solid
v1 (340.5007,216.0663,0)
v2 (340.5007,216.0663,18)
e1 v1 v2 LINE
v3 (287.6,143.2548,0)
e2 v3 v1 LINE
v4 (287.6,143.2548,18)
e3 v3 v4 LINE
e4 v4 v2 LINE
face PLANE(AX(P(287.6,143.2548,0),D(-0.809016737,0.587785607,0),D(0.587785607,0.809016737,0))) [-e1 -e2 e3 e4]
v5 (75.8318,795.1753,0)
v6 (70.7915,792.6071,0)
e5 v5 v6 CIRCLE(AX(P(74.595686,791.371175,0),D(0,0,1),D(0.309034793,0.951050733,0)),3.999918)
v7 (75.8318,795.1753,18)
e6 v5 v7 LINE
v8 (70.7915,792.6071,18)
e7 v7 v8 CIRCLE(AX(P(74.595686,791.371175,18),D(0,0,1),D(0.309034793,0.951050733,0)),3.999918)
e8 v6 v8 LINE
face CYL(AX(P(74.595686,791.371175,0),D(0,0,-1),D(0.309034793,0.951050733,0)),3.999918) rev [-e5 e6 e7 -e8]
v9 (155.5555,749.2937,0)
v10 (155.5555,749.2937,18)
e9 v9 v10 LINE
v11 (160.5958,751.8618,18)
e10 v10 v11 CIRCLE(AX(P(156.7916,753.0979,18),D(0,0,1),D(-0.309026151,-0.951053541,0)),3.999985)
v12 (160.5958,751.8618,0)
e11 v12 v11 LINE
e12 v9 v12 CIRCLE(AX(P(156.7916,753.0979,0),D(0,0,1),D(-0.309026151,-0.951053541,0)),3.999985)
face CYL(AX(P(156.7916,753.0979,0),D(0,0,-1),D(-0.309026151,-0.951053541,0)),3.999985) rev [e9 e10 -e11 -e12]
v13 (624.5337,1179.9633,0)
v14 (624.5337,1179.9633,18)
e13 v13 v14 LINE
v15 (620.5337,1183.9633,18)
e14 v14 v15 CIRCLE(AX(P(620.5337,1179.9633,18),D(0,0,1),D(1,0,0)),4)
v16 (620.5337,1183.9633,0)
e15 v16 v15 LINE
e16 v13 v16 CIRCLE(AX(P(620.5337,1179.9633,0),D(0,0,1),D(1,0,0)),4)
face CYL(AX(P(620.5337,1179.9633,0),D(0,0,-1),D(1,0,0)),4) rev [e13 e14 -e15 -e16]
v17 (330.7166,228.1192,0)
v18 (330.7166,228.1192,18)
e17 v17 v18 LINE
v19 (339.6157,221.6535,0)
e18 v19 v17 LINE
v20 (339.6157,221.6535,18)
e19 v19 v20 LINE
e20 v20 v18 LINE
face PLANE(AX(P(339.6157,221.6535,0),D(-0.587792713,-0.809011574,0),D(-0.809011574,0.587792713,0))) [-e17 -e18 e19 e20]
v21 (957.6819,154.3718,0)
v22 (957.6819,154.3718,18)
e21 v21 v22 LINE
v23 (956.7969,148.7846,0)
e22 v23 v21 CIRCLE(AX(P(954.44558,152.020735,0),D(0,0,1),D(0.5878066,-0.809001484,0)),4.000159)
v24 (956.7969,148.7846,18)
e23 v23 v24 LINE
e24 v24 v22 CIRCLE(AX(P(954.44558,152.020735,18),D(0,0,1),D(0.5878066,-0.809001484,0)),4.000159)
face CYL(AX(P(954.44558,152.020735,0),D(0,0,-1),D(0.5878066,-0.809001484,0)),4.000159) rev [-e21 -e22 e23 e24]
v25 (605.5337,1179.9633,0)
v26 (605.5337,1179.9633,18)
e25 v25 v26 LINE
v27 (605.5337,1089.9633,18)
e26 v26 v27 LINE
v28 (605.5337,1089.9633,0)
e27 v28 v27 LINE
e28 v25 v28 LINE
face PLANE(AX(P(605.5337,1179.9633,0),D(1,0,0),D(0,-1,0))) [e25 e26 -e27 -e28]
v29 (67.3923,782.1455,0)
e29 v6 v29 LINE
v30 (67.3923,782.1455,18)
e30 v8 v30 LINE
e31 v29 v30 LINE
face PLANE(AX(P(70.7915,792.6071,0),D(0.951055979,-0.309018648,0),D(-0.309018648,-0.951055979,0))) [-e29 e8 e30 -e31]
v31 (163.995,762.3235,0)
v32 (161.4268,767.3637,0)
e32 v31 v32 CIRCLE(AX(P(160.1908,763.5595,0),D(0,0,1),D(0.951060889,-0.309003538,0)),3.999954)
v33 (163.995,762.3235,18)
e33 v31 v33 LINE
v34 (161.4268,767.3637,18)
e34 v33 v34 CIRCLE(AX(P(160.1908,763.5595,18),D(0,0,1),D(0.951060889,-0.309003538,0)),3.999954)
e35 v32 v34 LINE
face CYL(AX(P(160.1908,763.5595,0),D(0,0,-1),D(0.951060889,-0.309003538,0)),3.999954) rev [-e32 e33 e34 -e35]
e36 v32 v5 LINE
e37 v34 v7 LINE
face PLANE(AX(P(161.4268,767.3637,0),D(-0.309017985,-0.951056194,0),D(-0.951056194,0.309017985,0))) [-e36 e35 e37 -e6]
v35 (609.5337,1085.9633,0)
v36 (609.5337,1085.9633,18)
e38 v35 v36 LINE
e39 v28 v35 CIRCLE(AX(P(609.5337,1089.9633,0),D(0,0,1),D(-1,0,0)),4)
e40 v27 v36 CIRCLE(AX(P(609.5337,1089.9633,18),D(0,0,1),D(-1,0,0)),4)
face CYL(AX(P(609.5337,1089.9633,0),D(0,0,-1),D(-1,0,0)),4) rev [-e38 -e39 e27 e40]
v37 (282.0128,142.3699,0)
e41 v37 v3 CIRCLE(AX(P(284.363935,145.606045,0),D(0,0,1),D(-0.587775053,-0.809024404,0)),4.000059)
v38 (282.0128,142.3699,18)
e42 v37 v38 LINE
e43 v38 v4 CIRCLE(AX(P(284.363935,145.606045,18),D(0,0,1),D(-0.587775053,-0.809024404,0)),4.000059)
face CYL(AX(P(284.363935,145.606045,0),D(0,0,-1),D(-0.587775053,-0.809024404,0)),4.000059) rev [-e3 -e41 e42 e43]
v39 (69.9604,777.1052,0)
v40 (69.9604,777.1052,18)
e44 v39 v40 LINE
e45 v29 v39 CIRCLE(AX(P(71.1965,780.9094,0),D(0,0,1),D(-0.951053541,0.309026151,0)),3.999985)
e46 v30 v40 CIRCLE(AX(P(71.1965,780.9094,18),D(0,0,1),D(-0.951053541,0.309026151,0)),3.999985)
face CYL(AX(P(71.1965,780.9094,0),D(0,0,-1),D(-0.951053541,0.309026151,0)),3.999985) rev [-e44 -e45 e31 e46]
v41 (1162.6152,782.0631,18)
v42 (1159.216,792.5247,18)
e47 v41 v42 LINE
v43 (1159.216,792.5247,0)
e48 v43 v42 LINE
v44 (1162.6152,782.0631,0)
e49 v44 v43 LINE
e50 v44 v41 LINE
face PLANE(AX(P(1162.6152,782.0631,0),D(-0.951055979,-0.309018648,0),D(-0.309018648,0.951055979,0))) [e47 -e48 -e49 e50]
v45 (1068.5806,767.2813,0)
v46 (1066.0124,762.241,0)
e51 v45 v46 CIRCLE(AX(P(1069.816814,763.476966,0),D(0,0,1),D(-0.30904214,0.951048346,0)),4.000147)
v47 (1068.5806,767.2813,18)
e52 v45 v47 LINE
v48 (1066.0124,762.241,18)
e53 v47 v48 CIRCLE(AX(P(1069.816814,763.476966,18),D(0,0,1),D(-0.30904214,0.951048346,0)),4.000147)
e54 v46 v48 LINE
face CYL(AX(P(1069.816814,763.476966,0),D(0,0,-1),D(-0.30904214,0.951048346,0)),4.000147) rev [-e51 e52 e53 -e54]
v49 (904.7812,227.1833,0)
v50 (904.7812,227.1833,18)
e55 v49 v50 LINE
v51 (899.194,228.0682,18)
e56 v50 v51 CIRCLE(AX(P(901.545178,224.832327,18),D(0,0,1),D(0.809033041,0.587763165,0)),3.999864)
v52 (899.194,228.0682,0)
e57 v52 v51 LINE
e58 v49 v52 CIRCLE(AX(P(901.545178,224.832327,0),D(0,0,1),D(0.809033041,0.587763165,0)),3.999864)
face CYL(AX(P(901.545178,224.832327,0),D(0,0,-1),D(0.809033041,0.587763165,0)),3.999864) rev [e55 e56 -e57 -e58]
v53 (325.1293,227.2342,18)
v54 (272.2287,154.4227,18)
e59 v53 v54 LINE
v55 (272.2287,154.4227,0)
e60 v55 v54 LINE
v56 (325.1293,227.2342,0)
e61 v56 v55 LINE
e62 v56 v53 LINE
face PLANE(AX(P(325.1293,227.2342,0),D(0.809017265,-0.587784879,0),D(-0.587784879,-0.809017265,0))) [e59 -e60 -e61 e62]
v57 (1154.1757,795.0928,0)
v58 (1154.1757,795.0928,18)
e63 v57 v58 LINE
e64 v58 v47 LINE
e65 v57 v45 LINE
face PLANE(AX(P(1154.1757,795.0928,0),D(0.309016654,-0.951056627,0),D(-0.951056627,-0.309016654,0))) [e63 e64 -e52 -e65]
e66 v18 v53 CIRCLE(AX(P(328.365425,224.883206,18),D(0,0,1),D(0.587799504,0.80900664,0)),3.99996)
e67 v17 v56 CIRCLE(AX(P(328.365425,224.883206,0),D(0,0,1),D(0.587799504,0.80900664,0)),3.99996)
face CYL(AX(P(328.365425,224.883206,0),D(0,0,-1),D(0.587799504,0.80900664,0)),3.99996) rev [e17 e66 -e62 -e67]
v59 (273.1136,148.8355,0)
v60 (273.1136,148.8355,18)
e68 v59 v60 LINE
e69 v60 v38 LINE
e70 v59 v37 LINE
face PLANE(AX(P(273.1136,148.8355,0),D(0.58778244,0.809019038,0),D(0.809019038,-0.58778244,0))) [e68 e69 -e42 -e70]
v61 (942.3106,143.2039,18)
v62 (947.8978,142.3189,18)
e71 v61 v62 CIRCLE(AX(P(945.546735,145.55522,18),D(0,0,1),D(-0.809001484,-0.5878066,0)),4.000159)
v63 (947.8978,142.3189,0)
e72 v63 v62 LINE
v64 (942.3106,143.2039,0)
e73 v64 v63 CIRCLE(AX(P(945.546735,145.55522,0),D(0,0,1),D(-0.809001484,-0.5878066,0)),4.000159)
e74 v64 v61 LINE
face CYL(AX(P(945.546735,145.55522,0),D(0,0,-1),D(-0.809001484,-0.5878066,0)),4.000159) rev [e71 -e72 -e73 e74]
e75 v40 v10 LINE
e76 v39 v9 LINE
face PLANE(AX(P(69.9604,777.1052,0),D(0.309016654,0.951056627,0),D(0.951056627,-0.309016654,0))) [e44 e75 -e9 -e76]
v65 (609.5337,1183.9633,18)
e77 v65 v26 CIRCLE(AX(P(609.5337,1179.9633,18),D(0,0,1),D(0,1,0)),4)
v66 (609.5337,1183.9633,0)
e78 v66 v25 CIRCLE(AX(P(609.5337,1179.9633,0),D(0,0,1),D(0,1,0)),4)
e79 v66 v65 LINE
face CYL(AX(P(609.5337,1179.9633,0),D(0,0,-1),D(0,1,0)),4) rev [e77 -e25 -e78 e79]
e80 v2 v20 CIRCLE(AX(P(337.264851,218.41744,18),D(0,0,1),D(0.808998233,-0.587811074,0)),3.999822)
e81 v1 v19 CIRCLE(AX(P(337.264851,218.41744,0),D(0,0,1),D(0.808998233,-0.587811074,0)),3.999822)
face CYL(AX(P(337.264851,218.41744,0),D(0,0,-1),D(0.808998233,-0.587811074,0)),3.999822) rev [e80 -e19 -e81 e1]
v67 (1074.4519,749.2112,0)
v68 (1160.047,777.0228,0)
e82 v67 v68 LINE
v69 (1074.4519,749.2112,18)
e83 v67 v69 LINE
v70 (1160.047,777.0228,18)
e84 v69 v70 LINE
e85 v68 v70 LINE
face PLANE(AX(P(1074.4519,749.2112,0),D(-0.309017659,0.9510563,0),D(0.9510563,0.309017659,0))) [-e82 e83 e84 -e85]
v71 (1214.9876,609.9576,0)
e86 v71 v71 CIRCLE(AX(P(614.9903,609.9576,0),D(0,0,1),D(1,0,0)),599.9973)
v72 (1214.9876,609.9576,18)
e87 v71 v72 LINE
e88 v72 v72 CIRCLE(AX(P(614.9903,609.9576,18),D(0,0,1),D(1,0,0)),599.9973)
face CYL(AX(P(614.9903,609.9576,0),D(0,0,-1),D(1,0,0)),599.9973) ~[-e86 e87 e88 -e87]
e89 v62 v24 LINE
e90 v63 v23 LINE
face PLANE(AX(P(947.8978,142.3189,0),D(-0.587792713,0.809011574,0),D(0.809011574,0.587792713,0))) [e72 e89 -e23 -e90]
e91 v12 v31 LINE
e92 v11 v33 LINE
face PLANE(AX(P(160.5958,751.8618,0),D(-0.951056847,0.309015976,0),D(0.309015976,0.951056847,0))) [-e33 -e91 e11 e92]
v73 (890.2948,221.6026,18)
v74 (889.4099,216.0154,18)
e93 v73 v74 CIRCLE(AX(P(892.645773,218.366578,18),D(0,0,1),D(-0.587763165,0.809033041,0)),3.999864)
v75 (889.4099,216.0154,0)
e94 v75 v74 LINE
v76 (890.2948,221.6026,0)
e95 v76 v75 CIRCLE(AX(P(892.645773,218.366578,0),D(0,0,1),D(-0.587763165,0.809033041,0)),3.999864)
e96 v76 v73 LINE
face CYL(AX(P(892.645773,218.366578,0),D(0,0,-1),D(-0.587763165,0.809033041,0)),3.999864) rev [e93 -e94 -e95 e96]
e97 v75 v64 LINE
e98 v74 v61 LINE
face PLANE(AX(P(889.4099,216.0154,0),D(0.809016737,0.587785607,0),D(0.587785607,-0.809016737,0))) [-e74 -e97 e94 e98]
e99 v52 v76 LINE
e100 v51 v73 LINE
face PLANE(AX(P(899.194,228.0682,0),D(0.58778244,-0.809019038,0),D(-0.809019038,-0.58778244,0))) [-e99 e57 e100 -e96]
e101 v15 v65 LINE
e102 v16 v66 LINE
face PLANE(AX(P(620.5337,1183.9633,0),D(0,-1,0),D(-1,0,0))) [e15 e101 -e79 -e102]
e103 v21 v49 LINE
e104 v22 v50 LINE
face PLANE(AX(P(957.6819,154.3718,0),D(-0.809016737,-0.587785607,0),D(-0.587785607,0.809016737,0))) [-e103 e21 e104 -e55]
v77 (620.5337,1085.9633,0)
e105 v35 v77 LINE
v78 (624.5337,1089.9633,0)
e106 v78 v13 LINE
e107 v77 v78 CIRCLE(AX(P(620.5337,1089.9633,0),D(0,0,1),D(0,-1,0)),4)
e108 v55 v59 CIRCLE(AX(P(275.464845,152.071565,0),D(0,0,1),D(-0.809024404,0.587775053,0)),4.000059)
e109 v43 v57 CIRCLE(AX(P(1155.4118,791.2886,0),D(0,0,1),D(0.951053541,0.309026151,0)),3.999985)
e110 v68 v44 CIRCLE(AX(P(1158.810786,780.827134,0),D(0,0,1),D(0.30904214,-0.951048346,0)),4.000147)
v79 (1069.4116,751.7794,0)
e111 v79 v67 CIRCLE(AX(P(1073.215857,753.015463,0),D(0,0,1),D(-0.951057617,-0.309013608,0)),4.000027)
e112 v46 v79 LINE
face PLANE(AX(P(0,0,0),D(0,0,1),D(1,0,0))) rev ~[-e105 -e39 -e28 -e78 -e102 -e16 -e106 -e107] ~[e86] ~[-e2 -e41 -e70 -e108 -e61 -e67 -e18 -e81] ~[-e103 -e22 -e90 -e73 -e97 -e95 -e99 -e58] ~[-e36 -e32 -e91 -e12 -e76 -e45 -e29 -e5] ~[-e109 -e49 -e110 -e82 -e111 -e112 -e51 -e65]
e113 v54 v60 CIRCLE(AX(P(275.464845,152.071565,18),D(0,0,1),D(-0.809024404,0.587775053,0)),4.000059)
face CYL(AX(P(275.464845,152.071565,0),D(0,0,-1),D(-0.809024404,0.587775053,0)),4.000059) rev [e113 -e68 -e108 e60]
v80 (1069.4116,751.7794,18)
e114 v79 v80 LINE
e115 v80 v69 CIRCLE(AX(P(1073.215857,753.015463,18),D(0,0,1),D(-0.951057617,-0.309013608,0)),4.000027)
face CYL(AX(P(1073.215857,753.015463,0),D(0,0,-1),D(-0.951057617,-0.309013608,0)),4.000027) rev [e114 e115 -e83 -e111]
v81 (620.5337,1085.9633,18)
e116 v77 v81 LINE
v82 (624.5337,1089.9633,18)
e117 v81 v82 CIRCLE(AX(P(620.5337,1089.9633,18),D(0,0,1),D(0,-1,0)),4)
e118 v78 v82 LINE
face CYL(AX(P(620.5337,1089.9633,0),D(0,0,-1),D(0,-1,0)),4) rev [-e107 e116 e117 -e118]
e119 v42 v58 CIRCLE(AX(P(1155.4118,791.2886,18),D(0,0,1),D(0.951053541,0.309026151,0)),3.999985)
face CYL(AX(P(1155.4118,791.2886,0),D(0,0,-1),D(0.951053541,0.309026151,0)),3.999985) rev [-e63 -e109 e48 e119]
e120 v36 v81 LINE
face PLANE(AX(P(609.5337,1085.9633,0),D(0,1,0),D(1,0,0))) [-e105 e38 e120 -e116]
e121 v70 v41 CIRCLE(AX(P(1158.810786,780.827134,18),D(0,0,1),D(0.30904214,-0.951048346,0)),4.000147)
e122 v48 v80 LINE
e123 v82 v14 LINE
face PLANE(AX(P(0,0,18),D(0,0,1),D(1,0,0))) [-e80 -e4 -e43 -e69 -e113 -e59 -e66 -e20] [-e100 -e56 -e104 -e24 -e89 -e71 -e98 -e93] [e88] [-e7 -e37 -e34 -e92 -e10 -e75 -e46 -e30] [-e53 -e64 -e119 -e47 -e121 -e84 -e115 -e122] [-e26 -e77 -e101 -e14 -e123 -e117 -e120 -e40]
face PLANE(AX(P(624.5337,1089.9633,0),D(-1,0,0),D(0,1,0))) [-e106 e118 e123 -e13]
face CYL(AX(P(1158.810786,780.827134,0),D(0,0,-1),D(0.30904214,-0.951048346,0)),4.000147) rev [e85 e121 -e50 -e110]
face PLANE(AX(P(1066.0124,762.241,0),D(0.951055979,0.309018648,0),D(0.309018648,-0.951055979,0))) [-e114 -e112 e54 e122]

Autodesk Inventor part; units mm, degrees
ref_plane "YZ Plane" through (0, 0, 0) normal (1, 0, 0) x (0, 1, 0)
ref_plane "XZ Plane" through (0, 0, 0) normal (0, 1, 0) x (-1, 0, 0)
ref_plane "XY Plane" through (0, 0, 0) normal (0, 0, 1) x (1, 0, 0)
sketch "CONTOURS" plane through (0, 0, 0) normal (0, 0, 1) x (1, 0, 0)
  circle A0 centre (614.9903, 609.9576) radius 599.9973
  dimension "d3" = 1199.9946
sketch "HOLES" plane through (0, 0, 0) normal (0, 0, 1) x (1, 0, 0)
  line L0 (1162.6152, 782.0631) -> (1159.216, 792.5247)
  arc A0 (1159.216, 792.5247) -> (1154.1757, 795.0928) centre (1155.4118, 791.2886) ccw
  line L1 (1154.1757, 795.0928) -> (1068.5806, 767.2813)
  arc A1 (1068.5806, 767.2813) -> (1066.0124, 762.241) centre (1069.8167, 763.4771) ccw
  line L2 (1066.0124, 762.241) -> (1069.4116, 751.7794)
  arc A2 (1069.4116, 751.7794) -> (1074.4519, 749.2112) centre (1073.2159, 753.0155) ccw
  line L3 (1074.4519, 749.2112) -> (1160.047, 777.0228)
  arc A3 (1160.047, 777.0228) -> (1162.6152, 782.0631) centre (1158.8109, 780.827) ccw
  line L4 (947.8978, 142.3189) -> (956.7969, 148.7846)
  arc A4 (956.7969, 148.7846) -> (957.6819, 154.3718) centre (954.4458, 152.0206) ccw
  line L5 (957.6819, 154.3718) -> (904.7812, 227.1833)
  arc A5 (904.7812, 227.1833) -> (899.194, 228.0682) centre (901.5451, 224.8322) ccw
  line L6 (899.194, 228.0682) -> (890.2948, 221.6026)
  arc A6 (890.2948, 221.6026) -> (889.4099, 216.0154) centre (892.6459, 218.3665) ccw
  line L7 (889.4099, 216.0154) -> (942.3106, 143.2039)
  arc A7 (942.3106, 143.2039) -> (947.8978, 142.3189) centre (945.5466, 145.555) ccw
  line L8 (620.5337, 1183.9633) -> (609.5337, 1183.9633)
  arc A8 (609.5337, 1183.9633) -> (605.5337, 1179.9633) centre (609.5337, 1179.9633) ccw
  line L9 (605.5337, 1179.9633) -> (605.5337, 1089.9633)
  arc A9 (605.5337, 1089.9633) -> (609.5337, 1085.9633) centre (609.5337, 1089.9633) ccw
  line L10 (609.5337, 1085.9633) -> (620.5337, 1085.9633)
  arc A10 (620.5337, 1085.9633) -> (624.5337, 1089.9633) centre (620.5337, 1089.9633) ccw
  line L11 (624.5337, 1089.9633) -> (624.5337, 1179.9633)
  arc A11 (624.5337, 1179.9633) -> (620.5337, 1183.9633) centre (620.5337, 1179.9633) ccw
  line L12 (273.1136, 148.8355) -> (282.0128, 142.3699)
  arc A12 (282.0128, 142.3699) -> (287.6, 143.2548) centre (284.3639, 145.6059) ccw
  line L13 (287.6, 143.2548) -> (340.5007, 216.0663)
  arc A13 (340.5007, 216.0663) -> (339.6157, 221.6535) centre (337.2646, 218.4175) ccw
  line L14 (339.6157, 221.6535) -> (330.7166, 228.1192)
  arc A14 (330.7166, 228.1192) -> (325.1293, 227.2342) centre (328.3654, 224.8831) ccw
  line L15 (325.1293, 227.2342) -> (272.2287, 154.4227)
  arc A15 (272.2287, 154.4227) -> (273.1136, 148.8355) centre (275.4647, 152.0716) ccw
  line L16 (70.7915, 792.6071) -> (67.3923, 782.1455)
  arc A16 (67.3923, 782.1455) -> (69.9604, 777.1052) centre (71.1965, 780.9094) ccw
  line L17 (69.9604, 777.1052) -> (155.5555, 749.2937)
  arc A17 (155.5555, 749.2937) -> (160.5958, 751.8618) centre (156.7916, 753.0979) ccw
  line L18 (160.5958, 751.8618) -> (163.995, 762.3235)
  arc A18 (163.995, 762.3235) -> (161.4268, 767.3637) centre (160.1908, 763.5595) ccw
  line L19 (161.4268, 767.3637) -> (75.8318, 795.1753)
  arc A19 (75.8318, 795.1753) -> (70.7915, 792.6071) centre (74.5957, 791.371) ccw
  dimension "d1" = 19
  dimension "d19" = 90
sketch "LETTERS" plane through (0, 0, 0) normal (0, 0, 1) x (1, 0, 0)
  line L0 (622.9768, 614.1235) -> (622.8555, 614.5546)
  line L1 (622.8555, 614.5546) -> (622.7333, 614.956)
  line L2 (622.7333, 614.956) -> (622.6101, 615.3276)
  line L3 (622.6101, 615.3276) -> (622.4861, 615.6694)
  line L4 (622.4861, 615.6694) -> (622.4237, 615.8291)
  line L5 (622.4237, 615.8291) -> (622.3611, 615.9814)
  line L6 (622.3611, 615.9814) -> (622.2982, 616.1262)
  line L7 (622.2982, 616.1262) -> (622.2351, 616.2636)
  line L8 (622.2351, 616.2636) -> (622.1718, 616.3935)
  line L9 (622.1718, 616.3935) -> (622.1083, 616.516)
  line L10 (622.1083, 616.516) -> (622.0445, 616.631)
  line L11 (622.0445, 616.631) -> (621.9805, 616.7386)
  line L12 (621.9805, 616.7386) -> (621.9154, 616.8417)
  line L13 (621.9154, 616.8417) -> (621.8484, 616.943)
  line L14 (621.8484, 616.943) -> (621.7795, 617.0428)
  line L15 (621.7795, 617.0428) -> (621.7087, 617.1408)
  line L16 (621.7087, 617.1408) -> (621.6361, 617.2373)
  line L17 (621.6361, 617.2373) -> (621.5615, 617.3321)
  line L18 (621.5615, 617.3321) -> (621.485, 617.4252)
  line L19 (621.485, 617.4252) -> (621.4066, 617.5167)
  line L20 (621.4066, 617.5167) -> (621.3264, 617.6065)
  line L21 (621.3264, 617.6065) -> (621.2442, 617.6947)
  line L22 (621.2442, 617.6947) -> (621.1602, 617.7812)
  line L23 (621.1602, 617.7812) -> (621.0742, 617.8661)
  line L24 (621.0742, 617.8661) -> (620.9864, 617.9494)
  line L25 (620.9864, 617.9494) -> (620.8966, 618.031)
  line L26 (620.8966, 618.031) -> (620.805, 618.1109)
  line L27 (620.805, 618.1109) -> (620.7115, 618.1892)
  line L28 (620.7115, 618.1892) -> (620.5209, 618.3409)
  line L29 (620.5209, 618.3409) -> (620.3269, 618.4859)
  line L30 (620.3269, 618.4859) -> (620.1297, 618.6242)
  line L31 (620.1297, 618.6242) -> (619.9292, 618.756)
  line L32 (619.9292, 618.756) -> (619.7254, 618.8811)
  line L33 (619.7254, 618.8811) -> (619.5183, 618.9995)
  line L34 (619.5183, 618.9995) -> (619.3079, 619.1114)
  line L35 (619.3079, 619.1114) -> (619.0942, 619.2166)
  line L36 (619.0942, 619.2166) -> (618.9858, 619.2666)
  line L37 (618.9858, 619.2666) -> (618.8761, 619.3148)
  line L38 (618.8761, 619.3148) -> (618.765, 619.3612)
  line L39 (618.765, 619.3612) -> (618.6526, 619.4058)
  line L40 (618.6526, 619.4058) -> (618.5388, 619.4485)
  line L41 (618.5388, 619.4485) -> (618.4237, 619.4895)
  line L42 (618.4237, 619.4895) -> (618.3072, 619.5286)
  line L43 (618.3072, 619.5286) -> (618.1894, 619.5658)
  line L44 (618.1894, 619.5658) -> (617.9497, 619.6349)
  line L45 (617.9497, 619.6349) -> (617.7046, 619.6967)
  line L46 (617.7046, 619.6967) -> (617.454, 619.7512)
  line L47 (617.454, 619.7512) -> (617.1981, 619.7984)
  line L48 (617.1981, 619.7984) -> (616.9346, 619.8392)
  line L49 (616.9346, 619.8392) -> (616.6613, 619.8746)
  line L50 (616.6613, 619.8746) -> (616.3784, 619.9045)
  line L51 (616.3784, 619.9045) -> (616.0858, 619.929)
  line L52 (616.0858, 619.929) -> (615.7835, 619.9481)
  line L53 (615.7835, 619.9481) -> (615.4715, 619.9617)
  line L54 (615.4715, 619.9617) -> (614.8184, 619.9726)
  line L55 (614.8184, 619.9726) -> (614.1719, 619.964)
  line L56 (614.1719, 619.964) -> (613.5774, 619.9385)
  line L57 (613.5774, 619.9385) -> (613.2996, 619.9194)
  line L58 (613.2996, 619.9194) -> (613.0349, 619.8959)
  line L59 (613.0349, 619.8959) -> (612.7831, 619.8683)
  line L60 (612.7831, 619.8683) -> (612.5443, 619.8364)
  line L61 (612.5443, 619.8364) -> (612.3121, 619.7985)
  line L62 (612.3121, 619.7985) -> (612.0798, 619.7532)
  line L63 (612.0798, 619.7532) -> (611.8476, 619.7002)
  line L64 (611.8476, 619.7002) -> (611.6153, 619.6397)
  line L65 (611.6153, 619.6397) -> (611.383, 619.5717)
  line L66 (611.383, 619.5717) -> (611.1508, 619.4961)
  line L67 (611.1508, 619.4961) -> (610.9185, 619.4129)
  line L68 (610.9185, 619.4129) -> (610.6862, 619.3222)
  line L69 (610.6862, 619.3222) -> (610.4529, 619.2229)
  line L70 (610.4529, 619.2229) -> (610.2174, 619.1139)
  line L71 (610.2174, 619.1139) -> (609.9798, 618.9952)
  line L72 (609.9798, 618.9952) -> (609.74, 618.8669)
  line L73 (609.74, 618.8669) -> (609.4981, 618.7289)
  line L74 (609.4981, 618.7289) -> (609.2541, 618.5813)
  line L75 (609.2541, 618.5813) -> (609.0078, 618.424)
  line L76 (609.0078, 618.424) -> (608.7595, 618.257)
  line L77 (608.7595, 618.257) -> (608.6356, 618.1697)
  line L78 (608.6356, 618.1697) -> (608.5134, 618.0797)
  line L79 (608.5134, 618.0797) -> (608.3928, 617.987)
  line L80 (608.3928, 617.987) -> (608.2739, 617.8916)
  line L81 (608.2739, 617.8916) -> (608.1567, 617.7935)
  line L82 (608.1567, 617.7935) -> (608.0411, 617.6927)
  line L83 (608.0411, 617.6927) -> (607.9272, 617.5891)
  line L84 (607.9272, 617.5891) -> (607.8149, 617.4828)
  line L85 (607.8149, 617.4828) -> (607.7043, 617.3739)
  line L86 (607.7043, 617.3739) -> (607.5953, 617.2622)
  line L87 (607.5953, 617.2622) -> (607.488, 617.1478)
  line L88 (607.488, 617.1478) -> (607.3824, 617.0307)
  line L89 (607.3824, 617.0307) -> (607.2784, 616.9108)
  line L90 (607.2784, 616.9108) -> (607.176, 616.7883)
  line L91 (607.176, 616.7883) -> (607.0754, 616.663)
  line L92 (607.0754, 616.663) -> (606.9764, 616.5351)
  line L93 (606.9764, 616.5351) -> (606.8795, 616.4051)
  line L94 (606.8795, 616.4051) -> (606.7852, 616.2738)
  line L95 (618.3393, 599.944) -> (618.5538, 599.9977)
  line L96 (618.5538, 599.9977) -> (618.7672, 600.0568)
  line L97 (618.7672, 600.0568) -> (618.9794, 600.1214)
  line L98 (618.9794, 600.1214) -> (619.1905, 600.1913)
  line L99 (619.1905, 600.1913) -> (619.4004, 600.2667)
  line L100 (619.4004, 600.2667) -> (619.6092, 600.3476)
  line L101 (619.6092, 600.3476) -> (619.8168, 600.4339)
  line L102 (619.8168, 600.4339) -> (620.0233, 600.5256)
  line L103 (620.0233, 600.5256) -> (620.2287, 600.6223)
  line L104 (620.2287, 600.6223) -> (620.4332, 600.7235)
  line L105 (620.4332, 600.7235) -> (620.6368, 600.8291)
  line L106 (620.6368, 600.8291) -> (620.8394, 600.9391)
  line L107 (620.8394, 600.9391) -> (621.0411, 601.0536)
  line L108 (621.0411, 601.0536) -> (621.2419, 601.1726)
  line L109 (621.2419, 601.1726) -> (621.4418, 601.296)
  line L110 (621.4418, 601.296) -> (621.6408, 601.4239)
  line L111 (621.6408, 601.4239) -> (622.3722, 601.9163)
  line L112 (622.3722, 601.9163) -> (622.691, 602.1415)
  line L113 (622.691, 602.1415) -> (622.9785, 602.3528)
  line L114 (622.9785, 602.3528) -> (623.4053, 602.6781)
  line L115 (623.4053, 602.6781) -> (623.5311, 602.7785)
  line L116 (623.5311, 602.7785) -> (623.572, 602.8131)
  line L117 (605.8556, 614.5967) -> (605.795, 614.4485)
  line L118 (623.587, 602.8265) -> (623.5931, 602.8322)
  line L119 (623.5931, 602.8322) -> (623.5983, 602.8373)
  line L120 (623.5983, 602.8373) -> (623.5992, 609.9994)
  line L121 (623.5992, 609.9994) -> (615.0012, 610.0005)
  line L122 (605.7369, 614.299) -> (605.5299, 613.7237)
  line L123 (605.5299, 613.7237) -> (605.4413, 613.4552)
  line L124 (605.4413, 613.4552) -> (605.3626, 613.1994)
  line L125 (605.3626, 613.1994) -> (605.294, 612.9564)
  line L126 (605.294, 612.9564) -> (605.2353, 612.7261)
  line L127 (605.2353, 612.7261) -> (605.1866, 612.5085)
  line L128 (605.1866, 612.5085) -> (605.1659, 612.4045)
  line L129 (605.1659, 612.4045) -> (605.1478, 612.3036)
  line L130 (605.1478, 612.3036) -> (605.0844, 611.8916)
  line L131 (605.0844, 611.8916) -> (605.0293, 611.4495)
  line L132 (605.0293, 611.4495) -> (604.9825, 610.9774)
  line L133 (604.9825, 610.9774) -> (604.944, 610.4751)
  line L134 (604.944, 610.4751) -> (604.9301, 610.2143)
  line L135 (604.9301, 610.2143) -> (604.9225, 609.9493)
  line L136 (604.9225, 609.9493) -> (604.9214, 609.68)
  line L137 (604.9214, 609.68) -> (604.9266, 609.4064)
  line L138 (604.9266, 609.4064) -> (604.9383, 609.1286)
  line L139 (604.9383, 609.1286) -> (604.9563, 608.8465)
  line L140 (604.9563, 608.8465) -> (604.9808, 608.5602)
  line L141 (604.9808, 608.5602) -> (605.0116, 608.2696)
  line L142 (605.0116, 608.2696) -> (605.049, 607.9781)
  line L143 (605.049, 607.9781) -> (605.0929, 607.6889)
  line L144 (605.0929, 607.6889) -> (605.1434, 607.4021)
  line L145 (605.1434, 607.4021) -> (605.2006, 607.1176)
  line L146 (605.2006, 607.1176) -> (605.2643, 606.8354)
  line L147 (605.2643, 606.8354) -> (605.3347, 606.5556)
  line L148 (605.3347, 606.5556) -> (605.4116, 606.2781)
  line L149 (605.4116, 606.2781) -> (605.4951, 606.003)
  line L150 (605.4951, 606.003) -> (605.5846, 605.7331)
  line L151 (605.5846, 605.7331) -> (605.6792, 605.4716)
  line L152 (605.6792, 605.4716) -> (605.7791, 605.2183)
  line L153 (605.7791, 605.2183) -> (605.8842, 604.9733)
  line L154 (605.8842, 604.9733) -> (605.9945, 604.7366)
  line L155 (605.9945, 604.7366) -> (606.11, 604.5082)
  line L156 (606.11, 604.5082) -> (606.2307, 604.2881)
  line L157 (606.2307, 604.2881) -> (606.293, 604.1811)
  line L158 (606.293, 604.1811) -> (606.3566, 604.0762)
  line L159 (606.3566, 604.0762) -> (606.4874, 603.8703)
  line L160 (606.4874, 603.8703) -> (606.6226, 603.6678)
  line L161 (606.6226, 603.6678) -> (606.7623, 603.469)
  line L162 (606.7623, 603.469) -> (606.9064, 603.2736)
  line L163 (606.9064, 603.2736) -> (607.055, 603.0818)
  line L164 (607.055, 603.0818) -> (607.208, 602.8935)
  line L165 (607.208, 602.8935) -> (607.3655, 602.7087)
  line L166 (607.3655, 602.7087) -> (607.5275, 602.5274)
  line L167 (607.5275, 602.5274) -> (607.6932, 602.351)
  line L168 (605.795, 614.4485) -> (605.7369, 614.299)
  line L169 (607.6932, 602.351) -> (607.862, 602.1808)
  line L170 (607.862, 602.1808) -> (608.0339, 602.0166)
  line L171 (608.0339, 602.0166) -> (608.2089, 601.8586)
  line L172 (608.2089, 601.8586) -> (608.3871, 601.7068)
  line L173 (608.3871, 601.7068) -> (608.5683, 601.561)
  line L174 (608.5683, 601.561) -> (608.7526, 601.4215)
  line L175 (608.7526, 601.4215) -> (608.94, 601.288)
  line L176 (608.94, 601.288) -> (609.1322, 601.1594)
  line L177 (609.1322, 601.1594) -> (609.3307, 601.0344)
  line L178 (609.3307, 601.0344) -> (609.5356, 600.9129)
  line L179 (609.5356, 600.9129) -> (609.7469, 600.795)
  line L180 (609.7469, 600.795) -> (609.9645, 600.6806)
  line L181 (609.9645, 600.6806) -> (610.1885, 600.5698)
  line L182 (610.1885, 600.5698) -> (610.4189, 600.4626)
  line L183 (610.4189, 600.4626) -> (610.6556, 600.359)
  line L184 (610.6556, 600.359) -> (610.8962, 600.2607)
  line L185 (610.8962, 600.2607) -> (611.1383, 600.1698)
  line L186 (611.1383, 600.1698) -> (611.3818, 600.0861)
  line L187 (611.3818, 600.0861) -> (611.6266, 600.0098)
  line L188 (611.6266, 600.0098) -> (611.8729, 599.9407)
  line L189 (611.8729, 599.9407) -> (612.1207, 599.8789)
  line L190 (612.1207, 599.8789) -> (612.3698, 599.8244)
  line L191 (612.3698, 599.8244) -> (612.6204, 599.7772)
  line L192 (612.6204, 599.7772) -> (613.1224, 599.6968)
  line L193 (613.1224, 599.6968) -> (613.6233, 599.6297)
  line L194 (613.6233, 599.6297) -> (614.1232, 599.5759)
  line L195 (614.1232, 599.5759) -> (614.622, 599.5355)
  line L196 (614.622, 599.5355) -> (614.8702, 599.5218)
  line L197 (614.8702, 599.5218) -> (615.1162, 599.5144)
  line L198 (615.1162, 599.5144) -> (615.3602, 599.5135)
  line L199 (615.3602, 599.5135) -> (615.602, 599.5188)
  line L200 (615.602, 599.5188) -> (615.8418, 599.5306)
  line L201 (615.8418, 599.5306) -> (616.0796, 599.5487)
  line L202 (616.0796, 599.5487) -> (616.3152, 599.5732)
  line L203 (616.3152, 599.5732) -> (616.5488, 599.6041)
  line L204 (616.5488, 599.6041) -> (617.0095, 599.6764)
  line L205 (617.0095, 599.6764) -> (617.4615, 599.7572)
  line L206 (617.4615, 599.7572) -> (617.9047, 599.8464)
  line L207 (617.9047, 599.8464) -> (618.3393, 599.944)
  line L208 (605.9188, 614.7437) -> (605.8556, 614.5967)
  line L209 (605.9846, 614.8893) -> (605.9188, 614.7437)
  line L210 (606.053, 615.0336) -> (605.9846, 614.8893)
  line L211 (606.124, 615.1766) -> (606.053, 615.0336)
  line L212 (606.1976, 615.3183) -> (606.124, 615.1766)
  line L213 (606.2738, 615.4587) -> (606.1976, 615.3183)
  line L214 (606.3525, 615.5978) -> (606.2738, 615.4587)
  line L215 (606.4339, 615.7356) -> (606.3525, 615.5978)
  line L216 (606.5178, 615.8721) -> (606.4339, 615.7356)
  line L217 (606.6043, 616.0073) -> (606.5178, 615.8721)
  line L218 (606.6935, 616.1412) -> (606.6043, 616.0073)
  line L219 (606.7852, 616.2738) -> (606.6935, 616.1412)
  line L220 (623.572, 602.8131) -> (623.587, 602.8265)
extrude "Extrusion4" add sketch "CONTOURS" along normal blind 18
extrude "Extrusion5" cut sketch "HOLES" along normal blind 18
properties part number "Disk G" material "Wood (Birch)"
